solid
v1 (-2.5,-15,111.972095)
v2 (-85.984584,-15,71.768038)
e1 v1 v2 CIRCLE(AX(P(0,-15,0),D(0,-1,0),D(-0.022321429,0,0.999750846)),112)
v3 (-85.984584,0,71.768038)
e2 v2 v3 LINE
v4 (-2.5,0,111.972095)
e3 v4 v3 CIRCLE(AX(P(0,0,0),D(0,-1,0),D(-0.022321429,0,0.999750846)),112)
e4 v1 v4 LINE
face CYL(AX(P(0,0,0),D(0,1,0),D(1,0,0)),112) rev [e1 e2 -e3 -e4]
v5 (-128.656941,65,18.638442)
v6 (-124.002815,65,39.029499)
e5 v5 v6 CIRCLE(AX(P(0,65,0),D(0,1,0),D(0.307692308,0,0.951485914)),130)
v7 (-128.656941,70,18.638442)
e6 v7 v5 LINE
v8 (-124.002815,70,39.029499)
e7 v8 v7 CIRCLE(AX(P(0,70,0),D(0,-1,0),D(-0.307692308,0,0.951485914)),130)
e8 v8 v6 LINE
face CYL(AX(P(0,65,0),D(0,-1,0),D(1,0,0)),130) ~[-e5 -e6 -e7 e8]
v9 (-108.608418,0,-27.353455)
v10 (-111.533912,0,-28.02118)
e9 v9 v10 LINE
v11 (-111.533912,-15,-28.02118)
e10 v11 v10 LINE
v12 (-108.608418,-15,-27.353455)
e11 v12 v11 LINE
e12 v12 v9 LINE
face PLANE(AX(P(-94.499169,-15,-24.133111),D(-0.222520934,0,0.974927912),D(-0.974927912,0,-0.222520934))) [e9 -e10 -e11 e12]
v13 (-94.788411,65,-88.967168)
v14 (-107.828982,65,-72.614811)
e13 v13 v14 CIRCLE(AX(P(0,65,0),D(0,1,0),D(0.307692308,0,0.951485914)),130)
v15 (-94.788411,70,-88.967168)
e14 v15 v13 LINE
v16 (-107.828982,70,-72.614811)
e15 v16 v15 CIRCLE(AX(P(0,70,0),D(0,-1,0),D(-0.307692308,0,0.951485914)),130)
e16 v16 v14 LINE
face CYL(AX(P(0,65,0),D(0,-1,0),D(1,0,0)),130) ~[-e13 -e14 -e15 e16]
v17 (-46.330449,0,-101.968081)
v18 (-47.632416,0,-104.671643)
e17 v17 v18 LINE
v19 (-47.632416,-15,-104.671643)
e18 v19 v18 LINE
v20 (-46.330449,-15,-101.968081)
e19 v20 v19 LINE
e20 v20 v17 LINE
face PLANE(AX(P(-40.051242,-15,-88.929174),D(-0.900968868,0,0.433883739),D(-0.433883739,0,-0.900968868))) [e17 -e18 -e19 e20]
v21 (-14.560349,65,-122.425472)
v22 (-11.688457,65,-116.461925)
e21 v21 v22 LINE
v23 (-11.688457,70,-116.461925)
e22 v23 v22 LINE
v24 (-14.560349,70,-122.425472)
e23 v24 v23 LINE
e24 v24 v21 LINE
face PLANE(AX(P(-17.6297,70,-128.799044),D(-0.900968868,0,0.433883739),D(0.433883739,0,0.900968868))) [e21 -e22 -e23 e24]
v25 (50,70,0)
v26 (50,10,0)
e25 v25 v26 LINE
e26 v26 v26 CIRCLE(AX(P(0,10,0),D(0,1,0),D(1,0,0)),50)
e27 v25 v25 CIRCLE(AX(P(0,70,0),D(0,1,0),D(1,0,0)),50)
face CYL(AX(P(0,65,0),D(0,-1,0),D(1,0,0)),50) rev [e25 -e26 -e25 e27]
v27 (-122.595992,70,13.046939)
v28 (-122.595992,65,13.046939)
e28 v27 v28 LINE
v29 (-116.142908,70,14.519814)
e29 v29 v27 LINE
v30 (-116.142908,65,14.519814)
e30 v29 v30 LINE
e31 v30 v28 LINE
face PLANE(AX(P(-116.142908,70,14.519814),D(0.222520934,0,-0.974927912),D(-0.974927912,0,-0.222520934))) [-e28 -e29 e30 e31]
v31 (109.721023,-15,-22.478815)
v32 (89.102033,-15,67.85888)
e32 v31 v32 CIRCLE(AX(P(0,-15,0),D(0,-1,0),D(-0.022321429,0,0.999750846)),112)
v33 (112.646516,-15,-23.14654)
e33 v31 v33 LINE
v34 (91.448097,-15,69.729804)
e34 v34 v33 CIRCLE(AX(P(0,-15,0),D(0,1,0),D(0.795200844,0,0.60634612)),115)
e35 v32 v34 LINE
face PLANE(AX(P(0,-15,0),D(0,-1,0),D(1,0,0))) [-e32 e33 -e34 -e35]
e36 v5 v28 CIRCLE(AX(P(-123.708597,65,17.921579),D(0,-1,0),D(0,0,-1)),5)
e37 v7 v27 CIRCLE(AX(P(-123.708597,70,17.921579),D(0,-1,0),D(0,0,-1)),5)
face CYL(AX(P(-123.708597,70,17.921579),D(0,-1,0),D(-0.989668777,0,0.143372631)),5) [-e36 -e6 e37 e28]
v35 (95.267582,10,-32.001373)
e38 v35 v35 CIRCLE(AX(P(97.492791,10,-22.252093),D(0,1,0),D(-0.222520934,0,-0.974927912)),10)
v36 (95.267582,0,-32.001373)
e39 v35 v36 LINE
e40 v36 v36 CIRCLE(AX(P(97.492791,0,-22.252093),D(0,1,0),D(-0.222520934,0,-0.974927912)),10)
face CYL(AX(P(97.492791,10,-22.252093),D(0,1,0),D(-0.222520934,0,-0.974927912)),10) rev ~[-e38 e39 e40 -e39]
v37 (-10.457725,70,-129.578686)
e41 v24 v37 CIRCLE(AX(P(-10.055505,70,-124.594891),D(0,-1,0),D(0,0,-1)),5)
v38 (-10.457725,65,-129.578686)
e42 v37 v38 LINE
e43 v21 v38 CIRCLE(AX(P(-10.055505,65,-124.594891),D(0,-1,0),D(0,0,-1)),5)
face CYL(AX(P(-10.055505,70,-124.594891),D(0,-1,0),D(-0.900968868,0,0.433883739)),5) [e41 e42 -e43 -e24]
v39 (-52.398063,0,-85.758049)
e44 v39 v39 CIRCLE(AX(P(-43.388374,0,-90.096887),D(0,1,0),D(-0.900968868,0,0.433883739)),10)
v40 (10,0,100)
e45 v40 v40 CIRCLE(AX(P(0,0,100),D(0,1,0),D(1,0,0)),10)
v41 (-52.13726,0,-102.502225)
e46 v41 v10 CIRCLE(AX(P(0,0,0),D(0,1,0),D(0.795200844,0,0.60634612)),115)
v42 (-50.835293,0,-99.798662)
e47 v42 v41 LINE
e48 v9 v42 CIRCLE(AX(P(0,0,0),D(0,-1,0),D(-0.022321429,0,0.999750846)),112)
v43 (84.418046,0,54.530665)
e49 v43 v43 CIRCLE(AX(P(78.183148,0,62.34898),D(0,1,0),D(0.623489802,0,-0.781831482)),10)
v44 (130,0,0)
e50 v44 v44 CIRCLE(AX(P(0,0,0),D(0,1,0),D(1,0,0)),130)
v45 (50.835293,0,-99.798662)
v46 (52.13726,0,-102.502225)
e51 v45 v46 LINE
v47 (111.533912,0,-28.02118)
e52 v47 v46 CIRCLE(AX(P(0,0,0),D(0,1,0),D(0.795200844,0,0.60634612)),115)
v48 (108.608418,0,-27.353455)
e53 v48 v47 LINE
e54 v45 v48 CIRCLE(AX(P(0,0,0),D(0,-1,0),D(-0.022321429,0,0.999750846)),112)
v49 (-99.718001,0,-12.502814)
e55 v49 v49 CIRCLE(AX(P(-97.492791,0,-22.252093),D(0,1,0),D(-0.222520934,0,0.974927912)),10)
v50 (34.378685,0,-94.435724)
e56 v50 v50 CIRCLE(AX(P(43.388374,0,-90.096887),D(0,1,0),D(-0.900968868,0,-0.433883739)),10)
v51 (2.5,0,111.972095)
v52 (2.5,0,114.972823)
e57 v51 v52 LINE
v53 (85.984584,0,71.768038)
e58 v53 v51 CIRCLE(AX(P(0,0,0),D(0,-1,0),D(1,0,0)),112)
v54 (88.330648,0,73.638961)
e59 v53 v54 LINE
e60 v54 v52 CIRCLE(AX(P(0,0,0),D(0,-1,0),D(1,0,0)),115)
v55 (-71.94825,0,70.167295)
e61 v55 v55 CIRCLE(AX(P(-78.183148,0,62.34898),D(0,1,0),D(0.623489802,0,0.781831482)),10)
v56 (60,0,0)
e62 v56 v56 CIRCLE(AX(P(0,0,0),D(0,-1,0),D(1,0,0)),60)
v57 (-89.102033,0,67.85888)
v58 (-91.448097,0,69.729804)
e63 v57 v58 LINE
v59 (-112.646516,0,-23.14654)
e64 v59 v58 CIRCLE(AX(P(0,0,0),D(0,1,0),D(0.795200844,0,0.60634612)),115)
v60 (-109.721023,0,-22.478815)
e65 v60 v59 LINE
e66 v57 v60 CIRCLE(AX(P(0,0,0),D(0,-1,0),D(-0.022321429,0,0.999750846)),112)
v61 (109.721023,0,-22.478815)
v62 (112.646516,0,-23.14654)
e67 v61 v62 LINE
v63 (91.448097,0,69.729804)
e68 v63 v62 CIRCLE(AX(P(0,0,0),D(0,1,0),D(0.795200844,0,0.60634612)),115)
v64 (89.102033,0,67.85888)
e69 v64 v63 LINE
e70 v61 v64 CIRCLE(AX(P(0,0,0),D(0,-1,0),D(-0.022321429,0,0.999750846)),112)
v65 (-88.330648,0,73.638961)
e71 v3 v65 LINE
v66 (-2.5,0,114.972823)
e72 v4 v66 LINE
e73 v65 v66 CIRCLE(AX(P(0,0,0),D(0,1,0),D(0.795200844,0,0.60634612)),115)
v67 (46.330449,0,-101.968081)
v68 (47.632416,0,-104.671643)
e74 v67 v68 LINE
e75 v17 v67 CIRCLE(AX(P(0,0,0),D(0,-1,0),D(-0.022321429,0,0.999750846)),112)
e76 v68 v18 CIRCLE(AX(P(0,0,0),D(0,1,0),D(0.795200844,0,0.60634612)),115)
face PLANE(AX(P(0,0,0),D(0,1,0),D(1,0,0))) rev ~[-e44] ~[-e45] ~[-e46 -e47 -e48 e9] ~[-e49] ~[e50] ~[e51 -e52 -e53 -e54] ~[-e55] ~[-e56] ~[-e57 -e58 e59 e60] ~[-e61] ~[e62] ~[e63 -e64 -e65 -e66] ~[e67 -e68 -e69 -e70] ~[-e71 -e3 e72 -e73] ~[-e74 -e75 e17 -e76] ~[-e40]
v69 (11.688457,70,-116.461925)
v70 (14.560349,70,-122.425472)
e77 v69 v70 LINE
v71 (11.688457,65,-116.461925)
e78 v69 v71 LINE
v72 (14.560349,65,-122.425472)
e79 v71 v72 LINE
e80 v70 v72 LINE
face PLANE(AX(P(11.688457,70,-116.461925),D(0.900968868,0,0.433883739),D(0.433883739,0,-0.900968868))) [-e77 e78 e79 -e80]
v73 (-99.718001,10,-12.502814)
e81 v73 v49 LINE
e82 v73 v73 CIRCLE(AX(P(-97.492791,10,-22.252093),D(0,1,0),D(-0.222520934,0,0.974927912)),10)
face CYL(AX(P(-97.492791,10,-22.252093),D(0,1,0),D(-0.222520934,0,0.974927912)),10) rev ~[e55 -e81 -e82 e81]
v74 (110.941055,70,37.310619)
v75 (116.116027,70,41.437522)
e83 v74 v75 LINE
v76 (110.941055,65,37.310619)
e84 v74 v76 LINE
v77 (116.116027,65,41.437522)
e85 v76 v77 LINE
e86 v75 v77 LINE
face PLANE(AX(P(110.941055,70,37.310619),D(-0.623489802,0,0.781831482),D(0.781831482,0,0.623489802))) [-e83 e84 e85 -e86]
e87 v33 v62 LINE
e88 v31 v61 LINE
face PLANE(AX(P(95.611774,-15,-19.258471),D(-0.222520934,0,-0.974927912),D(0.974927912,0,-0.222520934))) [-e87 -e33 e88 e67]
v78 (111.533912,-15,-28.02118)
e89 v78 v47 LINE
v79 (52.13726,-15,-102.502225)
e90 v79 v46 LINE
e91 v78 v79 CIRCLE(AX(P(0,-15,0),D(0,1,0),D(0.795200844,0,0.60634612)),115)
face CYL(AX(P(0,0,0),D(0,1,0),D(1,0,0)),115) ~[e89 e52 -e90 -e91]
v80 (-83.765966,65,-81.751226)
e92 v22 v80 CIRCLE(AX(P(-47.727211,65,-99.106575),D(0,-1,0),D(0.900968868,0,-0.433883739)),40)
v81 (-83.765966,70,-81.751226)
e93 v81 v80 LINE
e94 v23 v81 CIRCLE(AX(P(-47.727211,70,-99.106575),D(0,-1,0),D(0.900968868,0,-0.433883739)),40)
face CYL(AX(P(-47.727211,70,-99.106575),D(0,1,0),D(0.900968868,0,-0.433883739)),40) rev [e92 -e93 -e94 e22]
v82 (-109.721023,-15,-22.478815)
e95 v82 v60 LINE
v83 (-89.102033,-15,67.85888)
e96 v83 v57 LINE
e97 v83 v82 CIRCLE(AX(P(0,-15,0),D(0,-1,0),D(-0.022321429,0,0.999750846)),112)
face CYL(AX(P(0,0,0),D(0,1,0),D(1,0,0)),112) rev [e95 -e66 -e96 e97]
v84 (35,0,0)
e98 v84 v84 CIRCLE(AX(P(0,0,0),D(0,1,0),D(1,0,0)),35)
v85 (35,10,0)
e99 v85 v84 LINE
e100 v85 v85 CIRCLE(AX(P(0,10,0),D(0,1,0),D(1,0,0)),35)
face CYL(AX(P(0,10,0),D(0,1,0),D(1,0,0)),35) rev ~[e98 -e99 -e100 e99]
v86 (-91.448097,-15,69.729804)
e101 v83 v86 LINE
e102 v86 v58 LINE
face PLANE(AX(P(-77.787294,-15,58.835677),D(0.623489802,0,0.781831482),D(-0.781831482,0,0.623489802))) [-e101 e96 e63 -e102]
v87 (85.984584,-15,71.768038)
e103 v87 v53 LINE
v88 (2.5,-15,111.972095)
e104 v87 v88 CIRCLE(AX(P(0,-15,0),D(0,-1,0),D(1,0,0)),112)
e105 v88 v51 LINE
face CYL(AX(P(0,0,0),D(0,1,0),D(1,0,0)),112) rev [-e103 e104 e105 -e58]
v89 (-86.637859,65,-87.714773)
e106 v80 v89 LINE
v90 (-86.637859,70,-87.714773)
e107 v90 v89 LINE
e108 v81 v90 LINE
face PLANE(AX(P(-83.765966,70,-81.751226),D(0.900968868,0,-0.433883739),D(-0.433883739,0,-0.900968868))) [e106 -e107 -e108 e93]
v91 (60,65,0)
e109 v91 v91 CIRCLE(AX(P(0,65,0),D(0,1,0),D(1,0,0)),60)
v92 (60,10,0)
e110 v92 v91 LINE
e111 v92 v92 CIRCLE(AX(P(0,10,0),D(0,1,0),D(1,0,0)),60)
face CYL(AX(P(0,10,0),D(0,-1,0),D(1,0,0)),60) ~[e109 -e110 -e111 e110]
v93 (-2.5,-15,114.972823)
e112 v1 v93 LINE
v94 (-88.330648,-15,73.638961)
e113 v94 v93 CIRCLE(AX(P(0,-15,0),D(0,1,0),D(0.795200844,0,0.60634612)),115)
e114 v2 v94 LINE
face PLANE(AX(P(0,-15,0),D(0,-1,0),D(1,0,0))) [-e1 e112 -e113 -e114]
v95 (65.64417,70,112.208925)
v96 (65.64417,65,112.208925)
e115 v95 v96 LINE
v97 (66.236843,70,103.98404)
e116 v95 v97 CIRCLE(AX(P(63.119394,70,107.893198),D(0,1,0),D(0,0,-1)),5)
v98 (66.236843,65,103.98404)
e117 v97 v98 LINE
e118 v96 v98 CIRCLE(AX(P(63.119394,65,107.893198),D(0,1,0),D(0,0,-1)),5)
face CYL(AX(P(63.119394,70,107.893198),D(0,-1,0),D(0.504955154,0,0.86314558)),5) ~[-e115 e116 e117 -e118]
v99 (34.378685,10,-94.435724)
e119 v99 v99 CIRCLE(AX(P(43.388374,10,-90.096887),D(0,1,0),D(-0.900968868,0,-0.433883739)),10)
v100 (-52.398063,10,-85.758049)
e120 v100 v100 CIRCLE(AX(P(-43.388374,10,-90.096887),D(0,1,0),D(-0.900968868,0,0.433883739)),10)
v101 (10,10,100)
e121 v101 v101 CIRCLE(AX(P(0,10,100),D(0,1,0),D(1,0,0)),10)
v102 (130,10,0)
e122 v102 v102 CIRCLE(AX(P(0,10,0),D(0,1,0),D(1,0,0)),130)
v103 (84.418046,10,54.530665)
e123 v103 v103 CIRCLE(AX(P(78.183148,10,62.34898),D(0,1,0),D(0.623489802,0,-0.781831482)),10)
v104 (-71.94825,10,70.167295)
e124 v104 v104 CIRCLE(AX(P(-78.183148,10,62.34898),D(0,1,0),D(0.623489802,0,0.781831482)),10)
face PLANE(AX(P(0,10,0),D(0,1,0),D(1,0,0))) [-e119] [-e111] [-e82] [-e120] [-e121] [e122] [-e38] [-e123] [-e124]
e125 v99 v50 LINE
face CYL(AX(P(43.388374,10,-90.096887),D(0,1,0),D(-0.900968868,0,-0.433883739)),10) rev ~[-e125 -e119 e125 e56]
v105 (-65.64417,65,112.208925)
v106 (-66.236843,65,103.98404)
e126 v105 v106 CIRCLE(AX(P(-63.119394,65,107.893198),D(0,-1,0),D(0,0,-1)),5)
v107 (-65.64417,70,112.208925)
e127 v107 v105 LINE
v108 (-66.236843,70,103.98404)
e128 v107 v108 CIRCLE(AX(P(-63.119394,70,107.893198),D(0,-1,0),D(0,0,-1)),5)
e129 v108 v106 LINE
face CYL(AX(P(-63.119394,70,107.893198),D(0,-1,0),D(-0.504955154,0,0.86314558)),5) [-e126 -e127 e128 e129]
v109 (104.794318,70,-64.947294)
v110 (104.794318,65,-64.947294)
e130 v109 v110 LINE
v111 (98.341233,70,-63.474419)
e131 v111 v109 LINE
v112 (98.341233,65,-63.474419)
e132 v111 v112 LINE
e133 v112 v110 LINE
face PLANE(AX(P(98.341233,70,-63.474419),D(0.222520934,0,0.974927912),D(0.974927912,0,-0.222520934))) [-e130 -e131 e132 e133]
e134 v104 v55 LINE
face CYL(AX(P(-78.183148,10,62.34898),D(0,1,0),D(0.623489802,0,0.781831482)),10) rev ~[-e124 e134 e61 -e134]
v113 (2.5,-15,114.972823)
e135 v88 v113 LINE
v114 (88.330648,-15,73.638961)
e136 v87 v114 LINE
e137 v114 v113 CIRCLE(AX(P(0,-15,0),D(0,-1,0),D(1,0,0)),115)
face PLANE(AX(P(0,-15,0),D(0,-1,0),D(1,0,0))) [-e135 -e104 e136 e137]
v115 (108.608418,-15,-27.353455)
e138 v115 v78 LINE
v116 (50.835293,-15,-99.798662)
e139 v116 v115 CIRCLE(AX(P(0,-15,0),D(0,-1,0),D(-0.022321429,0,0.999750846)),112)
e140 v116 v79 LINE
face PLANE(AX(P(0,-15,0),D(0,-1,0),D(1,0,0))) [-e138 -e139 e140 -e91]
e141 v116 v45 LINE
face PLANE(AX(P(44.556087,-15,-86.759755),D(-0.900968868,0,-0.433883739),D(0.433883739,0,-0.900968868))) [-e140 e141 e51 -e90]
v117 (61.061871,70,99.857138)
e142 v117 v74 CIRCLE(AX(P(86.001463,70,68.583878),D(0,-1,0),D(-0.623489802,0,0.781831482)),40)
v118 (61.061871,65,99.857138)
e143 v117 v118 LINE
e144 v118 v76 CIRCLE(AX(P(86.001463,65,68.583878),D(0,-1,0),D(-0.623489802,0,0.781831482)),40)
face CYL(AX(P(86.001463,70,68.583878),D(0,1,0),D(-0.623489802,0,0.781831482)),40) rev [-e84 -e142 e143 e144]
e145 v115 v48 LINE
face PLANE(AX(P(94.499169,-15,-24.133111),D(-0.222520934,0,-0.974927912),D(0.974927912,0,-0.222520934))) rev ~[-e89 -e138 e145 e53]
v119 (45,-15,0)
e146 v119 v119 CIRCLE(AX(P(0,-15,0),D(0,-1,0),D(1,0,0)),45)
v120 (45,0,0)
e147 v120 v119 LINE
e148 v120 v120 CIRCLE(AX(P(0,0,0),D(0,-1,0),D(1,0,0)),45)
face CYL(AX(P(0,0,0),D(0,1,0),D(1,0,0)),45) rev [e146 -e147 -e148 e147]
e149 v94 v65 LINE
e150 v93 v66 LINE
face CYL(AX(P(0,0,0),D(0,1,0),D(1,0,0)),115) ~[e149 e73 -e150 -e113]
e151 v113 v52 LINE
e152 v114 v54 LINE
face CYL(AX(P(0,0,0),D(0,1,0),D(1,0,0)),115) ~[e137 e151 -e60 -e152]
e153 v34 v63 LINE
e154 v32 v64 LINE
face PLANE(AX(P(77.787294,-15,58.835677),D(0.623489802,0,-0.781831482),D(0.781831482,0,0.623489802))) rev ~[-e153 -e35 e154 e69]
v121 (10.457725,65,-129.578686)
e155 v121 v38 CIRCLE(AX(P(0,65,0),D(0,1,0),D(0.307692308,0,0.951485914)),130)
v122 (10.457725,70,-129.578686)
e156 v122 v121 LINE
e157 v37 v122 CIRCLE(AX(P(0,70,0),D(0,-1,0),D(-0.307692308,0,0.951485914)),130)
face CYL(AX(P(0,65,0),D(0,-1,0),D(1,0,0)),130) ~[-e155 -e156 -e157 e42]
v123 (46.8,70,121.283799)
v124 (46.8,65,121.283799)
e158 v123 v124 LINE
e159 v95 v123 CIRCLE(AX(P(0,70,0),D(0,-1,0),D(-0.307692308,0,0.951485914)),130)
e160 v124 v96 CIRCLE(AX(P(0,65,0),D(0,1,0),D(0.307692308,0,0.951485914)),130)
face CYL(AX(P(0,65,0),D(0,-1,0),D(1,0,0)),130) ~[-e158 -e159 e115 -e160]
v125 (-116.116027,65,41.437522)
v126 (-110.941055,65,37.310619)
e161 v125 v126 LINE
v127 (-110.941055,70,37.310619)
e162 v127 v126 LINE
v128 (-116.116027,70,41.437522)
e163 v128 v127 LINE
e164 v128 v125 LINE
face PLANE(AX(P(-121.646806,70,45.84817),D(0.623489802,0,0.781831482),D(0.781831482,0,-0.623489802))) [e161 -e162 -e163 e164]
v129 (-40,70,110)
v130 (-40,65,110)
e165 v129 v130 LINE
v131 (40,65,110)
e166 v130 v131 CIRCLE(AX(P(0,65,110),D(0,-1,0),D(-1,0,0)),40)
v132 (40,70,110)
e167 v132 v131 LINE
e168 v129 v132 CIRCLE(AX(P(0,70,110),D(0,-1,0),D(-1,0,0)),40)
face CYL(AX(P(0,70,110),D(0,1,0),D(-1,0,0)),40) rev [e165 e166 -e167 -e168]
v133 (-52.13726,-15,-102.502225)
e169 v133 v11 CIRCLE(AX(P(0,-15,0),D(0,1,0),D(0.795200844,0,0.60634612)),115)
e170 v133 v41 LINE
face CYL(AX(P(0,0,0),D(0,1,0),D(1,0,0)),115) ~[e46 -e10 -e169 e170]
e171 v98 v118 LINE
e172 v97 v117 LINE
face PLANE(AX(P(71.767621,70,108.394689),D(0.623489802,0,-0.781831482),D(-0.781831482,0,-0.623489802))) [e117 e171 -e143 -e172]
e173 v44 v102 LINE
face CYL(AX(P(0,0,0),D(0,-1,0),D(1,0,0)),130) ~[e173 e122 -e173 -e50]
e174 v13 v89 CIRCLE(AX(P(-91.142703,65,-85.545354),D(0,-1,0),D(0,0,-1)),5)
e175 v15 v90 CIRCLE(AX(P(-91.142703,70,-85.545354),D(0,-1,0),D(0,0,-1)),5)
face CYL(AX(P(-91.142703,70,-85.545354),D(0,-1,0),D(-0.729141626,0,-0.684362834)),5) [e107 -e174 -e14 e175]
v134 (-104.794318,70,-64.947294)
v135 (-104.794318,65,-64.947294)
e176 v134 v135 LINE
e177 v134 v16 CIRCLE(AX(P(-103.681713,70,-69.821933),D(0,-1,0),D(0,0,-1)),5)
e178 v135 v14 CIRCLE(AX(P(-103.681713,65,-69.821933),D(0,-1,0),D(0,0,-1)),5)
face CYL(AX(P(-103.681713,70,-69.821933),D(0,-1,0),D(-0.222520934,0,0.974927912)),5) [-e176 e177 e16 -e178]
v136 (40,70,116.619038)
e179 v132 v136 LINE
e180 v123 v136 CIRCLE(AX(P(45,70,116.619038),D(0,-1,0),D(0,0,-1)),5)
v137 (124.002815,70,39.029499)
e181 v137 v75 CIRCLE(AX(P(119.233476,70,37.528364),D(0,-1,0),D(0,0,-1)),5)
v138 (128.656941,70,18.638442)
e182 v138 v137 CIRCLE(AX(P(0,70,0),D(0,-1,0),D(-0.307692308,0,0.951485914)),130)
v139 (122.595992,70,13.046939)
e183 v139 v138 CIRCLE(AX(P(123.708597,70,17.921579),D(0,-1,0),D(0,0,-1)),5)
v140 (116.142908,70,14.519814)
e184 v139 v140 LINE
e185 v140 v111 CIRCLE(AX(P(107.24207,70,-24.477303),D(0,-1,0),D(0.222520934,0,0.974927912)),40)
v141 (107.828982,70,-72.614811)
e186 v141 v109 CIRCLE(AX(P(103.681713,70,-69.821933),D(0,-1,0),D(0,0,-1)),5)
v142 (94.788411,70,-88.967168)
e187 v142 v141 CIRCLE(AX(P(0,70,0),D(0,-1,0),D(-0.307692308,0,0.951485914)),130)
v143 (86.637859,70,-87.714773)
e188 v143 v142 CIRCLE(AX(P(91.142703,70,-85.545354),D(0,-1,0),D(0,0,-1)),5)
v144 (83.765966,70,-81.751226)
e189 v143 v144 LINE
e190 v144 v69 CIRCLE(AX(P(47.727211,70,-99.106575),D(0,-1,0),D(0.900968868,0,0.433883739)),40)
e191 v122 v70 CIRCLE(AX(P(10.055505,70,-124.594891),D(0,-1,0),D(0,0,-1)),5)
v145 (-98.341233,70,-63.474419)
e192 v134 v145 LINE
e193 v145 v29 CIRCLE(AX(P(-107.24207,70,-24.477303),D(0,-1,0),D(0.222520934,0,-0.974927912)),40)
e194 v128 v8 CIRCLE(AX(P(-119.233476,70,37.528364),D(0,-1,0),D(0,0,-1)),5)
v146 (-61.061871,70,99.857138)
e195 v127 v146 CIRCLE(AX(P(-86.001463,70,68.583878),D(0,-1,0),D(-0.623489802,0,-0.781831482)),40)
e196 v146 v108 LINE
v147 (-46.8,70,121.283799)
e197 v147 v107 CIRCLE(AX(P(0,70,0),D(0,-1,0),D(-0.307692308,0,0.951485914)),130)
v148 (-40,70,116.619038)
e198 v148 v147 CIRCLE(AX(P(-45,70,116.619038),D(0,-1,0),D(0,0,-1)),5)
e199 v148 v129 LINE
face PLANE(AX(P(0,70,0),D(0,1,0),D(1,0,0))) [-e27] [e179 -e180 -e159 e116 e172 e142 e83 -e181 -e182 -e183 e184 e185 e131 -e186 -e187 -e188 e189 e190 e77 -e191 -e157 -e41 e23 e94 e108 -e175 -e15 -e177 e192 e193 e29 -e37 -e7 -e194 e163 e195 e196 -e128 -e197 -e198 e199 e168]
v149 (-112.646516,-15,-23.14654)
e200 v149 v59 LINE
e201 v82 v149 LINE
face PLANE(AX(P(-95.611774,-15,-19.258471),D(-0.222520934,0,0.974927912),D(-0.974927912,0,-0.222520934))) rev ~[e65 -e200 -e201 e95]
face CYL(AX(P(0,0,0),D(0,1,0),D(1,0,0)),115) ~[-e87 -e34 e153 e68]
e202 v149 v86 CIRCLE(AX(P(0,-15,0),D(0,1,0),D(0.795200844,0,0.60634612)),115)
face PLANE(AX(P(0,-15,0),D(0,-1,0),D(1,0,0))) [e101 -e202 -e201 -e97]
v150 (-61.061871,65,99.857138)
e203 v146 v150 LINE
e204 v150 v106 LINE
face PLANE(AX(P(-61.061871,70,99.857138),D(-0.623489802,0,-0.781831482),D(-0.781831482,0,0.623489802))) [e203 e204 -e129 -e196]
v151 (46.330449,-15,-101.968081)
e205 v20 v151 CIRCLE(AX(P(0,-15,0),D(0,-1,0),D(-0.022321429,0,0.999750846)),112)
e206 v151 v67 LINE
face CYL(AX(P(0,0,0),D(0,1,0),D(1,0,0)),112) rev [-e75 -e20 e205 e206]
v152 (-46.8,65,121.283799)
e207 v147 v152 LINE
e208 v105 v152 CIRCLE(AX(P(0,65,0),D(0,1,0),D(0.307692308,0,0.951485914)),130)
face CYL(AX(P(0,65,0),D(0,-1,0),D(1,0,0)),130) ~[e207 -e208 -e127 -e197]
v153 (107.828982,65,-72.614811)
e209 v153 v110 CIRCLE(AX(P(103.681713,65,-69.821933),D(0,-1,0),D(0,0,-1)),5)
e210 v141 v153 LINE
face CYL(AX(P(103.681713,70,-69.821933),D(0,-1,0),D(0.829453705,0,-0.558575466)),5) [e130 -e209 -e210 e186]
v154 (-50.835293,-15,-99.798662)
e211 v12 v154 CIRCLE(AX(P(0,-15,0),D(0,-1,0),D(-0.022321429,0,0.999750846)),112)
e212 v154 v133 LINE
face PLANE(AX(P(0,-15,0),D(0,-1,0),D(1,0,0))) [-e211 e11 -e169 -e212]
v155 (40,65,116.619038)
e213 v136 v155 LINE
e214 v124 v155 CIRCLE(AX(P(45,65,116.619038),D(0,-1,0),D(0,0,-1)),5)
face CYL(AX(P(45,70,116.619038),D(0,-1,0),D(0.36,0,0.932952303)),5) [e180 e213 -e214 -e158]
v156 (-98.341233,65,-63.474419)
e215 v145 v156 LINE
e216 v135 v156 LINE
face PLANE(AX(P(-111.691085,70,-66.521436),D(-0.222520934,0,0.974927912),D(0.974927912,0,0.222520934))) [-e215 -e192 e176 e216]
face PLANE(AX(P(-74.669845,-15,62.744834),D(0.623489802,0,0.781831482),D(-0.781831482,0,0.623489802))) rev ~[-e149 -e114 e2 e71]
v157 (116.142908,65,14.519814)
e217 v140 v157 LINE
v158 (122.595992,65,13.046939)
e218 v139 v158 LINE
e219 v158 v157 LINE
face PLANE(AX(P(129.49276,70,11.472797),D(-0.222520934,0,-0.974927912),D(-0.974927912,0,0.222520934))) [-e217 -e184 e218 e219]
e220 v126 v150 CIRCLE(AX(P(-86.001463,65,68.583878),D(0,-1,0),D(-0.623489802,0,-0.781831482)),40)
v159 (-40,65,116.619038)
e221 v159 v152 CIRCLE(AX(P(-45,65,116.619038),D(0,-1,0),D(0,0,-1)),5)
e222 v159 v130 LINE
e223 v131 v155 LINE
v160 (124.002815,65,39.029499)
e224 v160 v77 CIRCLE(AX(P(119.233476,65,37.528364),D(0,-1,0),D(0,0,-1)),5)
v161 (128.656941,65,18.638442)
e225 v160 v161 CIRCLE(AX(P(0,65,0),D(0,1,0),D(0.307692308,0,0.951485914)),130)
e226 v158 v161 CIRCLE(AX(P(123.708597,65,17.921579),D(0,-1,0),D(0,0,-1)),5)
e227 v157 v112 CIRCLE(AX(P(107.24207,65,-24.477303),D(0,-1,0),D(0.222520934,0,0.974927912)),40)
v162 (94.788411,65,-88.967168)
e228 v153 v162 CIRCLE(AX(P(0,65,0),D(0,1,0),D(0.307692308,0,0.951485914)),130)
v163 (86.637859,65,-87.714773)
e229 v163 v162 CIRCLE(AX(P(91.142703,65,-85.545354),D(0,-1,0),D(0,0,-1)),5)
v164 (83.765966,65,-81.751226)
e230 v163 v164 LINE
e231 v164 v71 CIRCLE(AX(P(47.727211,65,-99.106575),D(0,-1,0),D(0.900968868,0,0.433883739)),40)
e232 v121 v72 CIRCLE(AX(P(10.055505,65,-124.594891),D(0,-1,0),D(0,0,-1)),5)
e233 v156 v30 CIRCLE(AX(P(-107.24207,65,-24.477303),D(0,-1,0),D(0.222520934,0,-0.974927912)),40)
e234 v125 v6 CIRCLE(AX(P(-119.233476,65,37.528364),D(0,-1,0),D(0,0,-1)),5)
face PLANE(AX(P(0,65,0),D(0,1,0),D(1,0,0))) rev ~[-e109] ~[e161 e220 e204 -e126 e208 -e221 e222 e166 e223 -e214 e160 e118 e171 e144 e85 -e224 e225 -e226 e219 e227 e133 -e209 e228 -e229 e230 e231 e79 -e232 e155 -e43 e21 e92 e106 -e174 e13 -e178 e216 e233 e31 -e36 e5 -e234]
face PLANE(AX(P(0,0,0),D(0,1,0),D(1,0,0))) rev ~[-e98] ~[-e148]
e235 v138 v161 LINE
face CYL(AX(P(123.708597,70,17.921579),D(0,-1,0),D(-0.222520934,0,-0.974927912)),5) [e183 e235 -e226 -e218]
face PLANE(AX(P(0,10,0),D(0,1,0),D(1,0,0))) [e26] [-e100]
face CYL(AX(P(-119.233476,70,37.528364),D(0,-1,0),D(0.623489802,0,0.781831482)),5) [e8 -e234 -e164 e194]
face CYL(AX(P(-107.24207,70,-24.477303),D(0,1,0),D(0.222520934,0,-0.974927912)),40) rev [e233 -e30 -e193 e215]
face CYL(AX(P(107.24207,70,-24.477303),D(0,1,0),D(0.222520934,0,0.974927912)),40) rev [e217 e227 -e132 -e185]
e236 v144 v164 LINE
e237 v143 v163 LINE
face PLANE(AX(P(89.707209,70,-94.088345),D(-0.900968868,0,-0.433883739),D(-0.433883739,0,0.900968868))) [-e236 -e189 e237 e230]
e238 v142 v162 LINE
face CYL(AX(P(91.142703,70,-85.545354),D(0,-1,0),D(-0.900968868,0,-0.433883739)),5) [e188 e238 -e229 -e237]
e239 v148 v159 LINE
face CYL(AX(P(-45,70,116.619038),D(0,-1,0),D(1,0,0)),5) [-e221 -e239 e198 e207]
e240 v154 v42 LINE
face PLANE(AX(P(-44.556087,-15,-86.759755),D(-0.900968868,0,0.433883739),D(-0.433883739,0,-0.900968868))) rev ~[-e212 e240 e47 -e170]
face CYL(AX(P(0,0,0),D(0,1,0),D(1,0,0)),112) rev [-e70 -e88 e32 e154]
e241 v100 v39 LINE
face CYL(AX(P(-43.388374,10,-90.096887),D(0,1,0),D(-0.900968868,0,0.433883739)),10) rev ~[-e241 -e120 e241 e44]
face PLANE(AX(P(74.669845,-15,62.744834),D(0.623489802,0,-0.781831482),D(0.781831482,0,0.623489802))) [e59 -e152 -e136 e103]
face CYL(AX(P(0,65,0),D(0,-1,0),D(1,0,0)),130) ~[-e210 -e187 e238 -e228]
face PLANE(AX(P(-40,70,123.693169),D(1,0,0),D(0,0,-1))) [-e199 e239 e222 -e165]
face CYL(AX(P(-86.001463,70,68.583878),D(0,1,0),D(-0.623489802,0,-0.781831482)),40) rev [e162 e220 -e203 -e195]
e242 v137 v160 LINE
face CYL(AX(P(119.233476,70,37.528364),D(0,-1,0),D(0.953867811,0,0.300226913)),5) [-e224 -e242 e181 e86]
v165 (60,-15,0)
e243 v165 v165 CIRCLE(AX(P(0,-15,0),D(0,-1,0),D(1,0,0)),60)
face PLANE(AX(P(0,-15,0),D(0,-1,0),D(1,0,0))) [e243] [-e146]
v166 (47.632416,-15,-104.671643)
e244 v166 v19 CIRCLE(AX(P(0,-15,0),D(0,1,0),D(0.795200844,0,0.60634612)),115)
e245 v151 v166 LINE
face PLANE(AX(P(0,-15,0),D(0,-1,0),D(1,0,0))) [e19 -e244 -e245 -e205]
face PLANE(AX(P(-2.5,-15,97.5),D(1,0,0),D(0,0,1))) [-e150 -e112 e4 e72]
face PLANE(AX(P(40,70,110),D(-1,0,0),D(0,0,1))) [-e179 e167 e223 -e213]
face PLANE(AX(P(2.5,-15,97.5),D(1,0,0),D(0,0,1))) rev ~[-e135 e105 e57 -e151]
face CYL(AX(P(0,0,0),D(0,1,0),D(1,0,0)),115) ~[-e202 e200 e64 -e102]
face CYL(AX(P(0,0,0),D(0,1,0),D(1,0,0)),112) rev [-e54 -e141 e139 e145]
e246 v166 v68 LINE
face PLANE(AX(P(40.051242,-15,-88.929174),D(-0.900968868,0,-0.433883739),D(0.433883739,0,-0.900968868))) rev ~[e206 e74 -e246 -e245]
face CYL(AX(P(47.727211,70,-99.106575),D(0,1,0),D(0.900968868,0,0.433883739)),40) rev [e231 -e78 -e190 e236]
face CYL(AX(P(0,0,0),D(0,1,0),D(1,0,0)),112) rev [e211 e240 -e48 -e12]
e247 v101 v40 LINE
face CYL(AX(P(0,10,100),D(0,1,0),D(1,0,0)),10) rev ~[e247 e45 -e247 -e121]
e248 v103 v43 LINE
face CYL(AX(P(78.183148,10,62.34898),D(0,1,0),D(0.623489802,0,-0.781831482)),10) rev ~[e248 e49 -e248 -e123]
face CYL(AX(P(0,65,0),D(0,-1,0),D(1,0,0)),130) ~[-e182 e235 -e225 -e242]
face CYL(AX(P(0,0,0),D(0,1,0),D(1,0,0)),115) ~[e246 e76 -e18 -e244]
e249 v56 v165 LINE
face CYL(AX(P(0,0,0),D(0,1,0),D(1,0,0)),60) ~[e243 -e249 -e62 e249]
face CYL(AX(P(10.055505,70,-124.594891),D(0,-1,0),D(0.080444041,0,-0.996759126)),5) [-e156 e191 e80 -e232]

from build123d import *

# Parameters (mm, degrees)
SKETCH1_R           = 130
BOSS_EXTRUDE1_DEPTH = 10
CUT_EXTRUDE1_REACH  = 12
SKETCH2_R           = 35
SKETCH3_R           = 60
SKETCH3_R_2         = 50
BOSS_EXTRUDE2_DEPTH = 55
SKETCH4_R           = 130
SKETCH4_R_2         = 50
BOSS_EXTRUDE3_DEPTH = 5
SKETCH6_R           = 60
SKETCH6_R_2         = 45
BOSS_EXTRUDE4_DEPTH = 15
CUT_EXTRUDE3_DEPTH  = 5
CIRPATTERN1_COUNT   = 7
SKETCH10_R          = 115
SKETCH10_R_2        = 112
BOSS_EXTRUDE5_DEPTH = 15
SKETCH11_W          = 5
SKETCH11_H          = 25
CUT_EXTRUDE4_DEPTH  = 15
CIRPATTERN2_COUNT   = 7
SKETCH12_R          = 10
CUT_EXTRUDE5_DEPTH  = 10
CIRPATTERN3_COUNT   = 7
FILLET1_R           = 5


with BuildPart() as part:
    # Sketch1 → Boss-Extrude1 (new body)
    with BuildSketch(Plane(origin=(0, 0, 0), x_dir=(1, 0, 0), z_dir=(0, 1, 0))):
        Circle(SKETCH1_R)
    extrude(amount=BOSS_EXTRUDE1_DEPTH)

    # Sketch2 → Cut-Extrude1 (cut, up to next)
    with BuildSketch(Plane(origin=(0, 10, 0), x_dir=(1, 0, 0), z_dir=(0, 1, 0)), mode=Mode.PRIVATE) as cut_extrude1_sk1:
        Circle(SKETCH2_R)
    cut_extrude1_tool1 = extrude(cut_extrude1_sk1.sketch, amount=-CUT_EXTRUDE1_REACH, mode=Mode.PRIVATE) & part.part
    add(cut_extrude1_tool1.solids().sort_by_distance((0, 10, 0))[0], mode=Mode.SUBTRACT)

    # Sketch3 → Boss-Extrude2 (add)
    with BuildSketch(Plane(origin=(0, 10, 0), x_dir=(1, 0, 0), z_dir=(0, 1, 0))):
        Circle(SKETCH3_R)
        Circle(SKETCH3_R_2, mode=Mode.SUBTRACT)
    extrude(amount=BOSS_EXTRUDE2_DEPTH)

    # Sketch4 → Boss-Extrude3 (add)
    with BuildSketch(Plane(origin=(0, 65, 0), x_dir=(1, 0, 0), z_dir=(0, 1, 0))):
        Circle(SKETCH4_R)
        Circle(SKETCH4_R_2, mode=Mode.SUBTRACT)
    extrude(amount=BOSS_EXTRUDE3_DEPTH)

    # Sketch6 → Boss-Extrude4 (add)
    with BuildSketch(Plane.XZ):
        Circle(SKETCH6_R)
        Circle(SKETCH6_R_2, mode=Mode.SUBTRACT)
    extrude(amount=BOSS_EXTRUDE4_DEPTH)

    # Sketch8 → Cut-Extrude3 (cut)
    with BuildSketch(Plane(origin=(0, 70, 0), x_dir=(1, 0, 0), z_dir=(0, 1, 0))):
        with BuildLine():
            Line((40, -110), (40, -123.693168769))
            ThreePointArc((40, -123.693168769), (0, -130), (-40, -123.693168769))
            Line((-40, -123.693168769), (-40, -110))
            ThreePointArc((-40, -110), (0, -70), (40, -110))
        make_face()
    cut_extrude3 = extrude(amount=-CUT_EXTRUDE3_DEPTH, mode=Mode.SUBTRACT)

    # CirPattern1: Cut-Extrude3 ×7 about axis
    cirpattern1_axis = Axis((0, 0, 0), (0, 1, 0))
    for i in range(1, CIRPATTERN1_COUNT):
        add(cut_extrude3.rotate(cirpattern1_axis, i * 360 / CIRPATTERN1_COUNT), mode=Mode.SUBTRACT)

    # Sketch10 → Boss-Extrude5 (add)
    with BuildSketch(Plane.XZ):
        Circle(SKETCH10_R)
        Circle(SKETCH10_R_2, mode=Mode.SUBTRACT)
    extrude(amount=BOSS_EXTRUDE5_DEPTH)

    # Sketch11 → Cut-Extrude4 (cut)
    with BuildSketch(Plane.XZ.offset(15)):
        with Locations((0, 110)):
            Rectangle(SKETCH11_W, SKETCH11_H)
    cut_extrude4 = extrude(amount=-CUT_EXTRUDE4_DEPTH, mode=Mode.SUBTRACT)

    # CirPattern2: Cut-Extrude4 ×7 about axis
    cirpattern2_axis = Axis((0, 0, 0), (0, 1, 0))
    for i in range(1, CIRPATTERN2_COUNT):
        add(cut_extrude4.rotate(cirpattern2_axis, i * 360 / CIRPATTERN2_COUNT), mode=Mode.SUBTRACT)

    # Sketch12 → Cut-Extrude5 (cut)
    with BuildSketch(Plane(origin=(0, 10, 0), x_dir=(1, 0, 0), z_dir=(0, 1, 0))):
        with Locations((0, -100)):
            Circle(SKETCH12_R)
    cut_extrude5 = extrude(amount=-CUT_EXTRUDE5_DEPTH, mode=Mode.SUBTRACT)

    # CirPattern3: Cut-Extrude5 ×7 about axis
    cirpattern3_axis = Axis((0, 0, 0), (0, 1, 0))
    for i in range(1, CIRPATTERN3_COUNT):
        add(cut_extrude5.rotate(cirpattern3_axis, i * 360 / CIRPATTERN3_COUNT), mode=Mode.SUBTRACT)

    # Fillet1
    fillet1_edges = [part.edges().sort_by_distance(p)[0] for p in [
        (71.767621435, 67.5, 108.394688585),
        (121.646805584, 67.5, 45.848169988),
        (-40, 67.5, 123.693168769),
        (40, 67.5, 123.693168769),
        (-121.646805584, 67.5, 45.848169988),
        (-71.767621435, 67.5, 108.394688585),
        (-17.629699852, 67.5, -128.799043797),
        (-89.707209285, 67.5, -94.088344668),
        (-111.69108542, 67.5, -66.521435926),
        (-129.492760137, 67.5, 11.472797049),
        (129.492760137, 67.5, 11.472797049),
        (111.69108542, 67.5, -66.521435926),
        (89.707209285, 67.5, -94.088344668),
        (17.629699852, 67.5, -128.799043797),
    ]]
    fillet(fillet1_edges, radius=FILLET1_R)


solid = part.part
